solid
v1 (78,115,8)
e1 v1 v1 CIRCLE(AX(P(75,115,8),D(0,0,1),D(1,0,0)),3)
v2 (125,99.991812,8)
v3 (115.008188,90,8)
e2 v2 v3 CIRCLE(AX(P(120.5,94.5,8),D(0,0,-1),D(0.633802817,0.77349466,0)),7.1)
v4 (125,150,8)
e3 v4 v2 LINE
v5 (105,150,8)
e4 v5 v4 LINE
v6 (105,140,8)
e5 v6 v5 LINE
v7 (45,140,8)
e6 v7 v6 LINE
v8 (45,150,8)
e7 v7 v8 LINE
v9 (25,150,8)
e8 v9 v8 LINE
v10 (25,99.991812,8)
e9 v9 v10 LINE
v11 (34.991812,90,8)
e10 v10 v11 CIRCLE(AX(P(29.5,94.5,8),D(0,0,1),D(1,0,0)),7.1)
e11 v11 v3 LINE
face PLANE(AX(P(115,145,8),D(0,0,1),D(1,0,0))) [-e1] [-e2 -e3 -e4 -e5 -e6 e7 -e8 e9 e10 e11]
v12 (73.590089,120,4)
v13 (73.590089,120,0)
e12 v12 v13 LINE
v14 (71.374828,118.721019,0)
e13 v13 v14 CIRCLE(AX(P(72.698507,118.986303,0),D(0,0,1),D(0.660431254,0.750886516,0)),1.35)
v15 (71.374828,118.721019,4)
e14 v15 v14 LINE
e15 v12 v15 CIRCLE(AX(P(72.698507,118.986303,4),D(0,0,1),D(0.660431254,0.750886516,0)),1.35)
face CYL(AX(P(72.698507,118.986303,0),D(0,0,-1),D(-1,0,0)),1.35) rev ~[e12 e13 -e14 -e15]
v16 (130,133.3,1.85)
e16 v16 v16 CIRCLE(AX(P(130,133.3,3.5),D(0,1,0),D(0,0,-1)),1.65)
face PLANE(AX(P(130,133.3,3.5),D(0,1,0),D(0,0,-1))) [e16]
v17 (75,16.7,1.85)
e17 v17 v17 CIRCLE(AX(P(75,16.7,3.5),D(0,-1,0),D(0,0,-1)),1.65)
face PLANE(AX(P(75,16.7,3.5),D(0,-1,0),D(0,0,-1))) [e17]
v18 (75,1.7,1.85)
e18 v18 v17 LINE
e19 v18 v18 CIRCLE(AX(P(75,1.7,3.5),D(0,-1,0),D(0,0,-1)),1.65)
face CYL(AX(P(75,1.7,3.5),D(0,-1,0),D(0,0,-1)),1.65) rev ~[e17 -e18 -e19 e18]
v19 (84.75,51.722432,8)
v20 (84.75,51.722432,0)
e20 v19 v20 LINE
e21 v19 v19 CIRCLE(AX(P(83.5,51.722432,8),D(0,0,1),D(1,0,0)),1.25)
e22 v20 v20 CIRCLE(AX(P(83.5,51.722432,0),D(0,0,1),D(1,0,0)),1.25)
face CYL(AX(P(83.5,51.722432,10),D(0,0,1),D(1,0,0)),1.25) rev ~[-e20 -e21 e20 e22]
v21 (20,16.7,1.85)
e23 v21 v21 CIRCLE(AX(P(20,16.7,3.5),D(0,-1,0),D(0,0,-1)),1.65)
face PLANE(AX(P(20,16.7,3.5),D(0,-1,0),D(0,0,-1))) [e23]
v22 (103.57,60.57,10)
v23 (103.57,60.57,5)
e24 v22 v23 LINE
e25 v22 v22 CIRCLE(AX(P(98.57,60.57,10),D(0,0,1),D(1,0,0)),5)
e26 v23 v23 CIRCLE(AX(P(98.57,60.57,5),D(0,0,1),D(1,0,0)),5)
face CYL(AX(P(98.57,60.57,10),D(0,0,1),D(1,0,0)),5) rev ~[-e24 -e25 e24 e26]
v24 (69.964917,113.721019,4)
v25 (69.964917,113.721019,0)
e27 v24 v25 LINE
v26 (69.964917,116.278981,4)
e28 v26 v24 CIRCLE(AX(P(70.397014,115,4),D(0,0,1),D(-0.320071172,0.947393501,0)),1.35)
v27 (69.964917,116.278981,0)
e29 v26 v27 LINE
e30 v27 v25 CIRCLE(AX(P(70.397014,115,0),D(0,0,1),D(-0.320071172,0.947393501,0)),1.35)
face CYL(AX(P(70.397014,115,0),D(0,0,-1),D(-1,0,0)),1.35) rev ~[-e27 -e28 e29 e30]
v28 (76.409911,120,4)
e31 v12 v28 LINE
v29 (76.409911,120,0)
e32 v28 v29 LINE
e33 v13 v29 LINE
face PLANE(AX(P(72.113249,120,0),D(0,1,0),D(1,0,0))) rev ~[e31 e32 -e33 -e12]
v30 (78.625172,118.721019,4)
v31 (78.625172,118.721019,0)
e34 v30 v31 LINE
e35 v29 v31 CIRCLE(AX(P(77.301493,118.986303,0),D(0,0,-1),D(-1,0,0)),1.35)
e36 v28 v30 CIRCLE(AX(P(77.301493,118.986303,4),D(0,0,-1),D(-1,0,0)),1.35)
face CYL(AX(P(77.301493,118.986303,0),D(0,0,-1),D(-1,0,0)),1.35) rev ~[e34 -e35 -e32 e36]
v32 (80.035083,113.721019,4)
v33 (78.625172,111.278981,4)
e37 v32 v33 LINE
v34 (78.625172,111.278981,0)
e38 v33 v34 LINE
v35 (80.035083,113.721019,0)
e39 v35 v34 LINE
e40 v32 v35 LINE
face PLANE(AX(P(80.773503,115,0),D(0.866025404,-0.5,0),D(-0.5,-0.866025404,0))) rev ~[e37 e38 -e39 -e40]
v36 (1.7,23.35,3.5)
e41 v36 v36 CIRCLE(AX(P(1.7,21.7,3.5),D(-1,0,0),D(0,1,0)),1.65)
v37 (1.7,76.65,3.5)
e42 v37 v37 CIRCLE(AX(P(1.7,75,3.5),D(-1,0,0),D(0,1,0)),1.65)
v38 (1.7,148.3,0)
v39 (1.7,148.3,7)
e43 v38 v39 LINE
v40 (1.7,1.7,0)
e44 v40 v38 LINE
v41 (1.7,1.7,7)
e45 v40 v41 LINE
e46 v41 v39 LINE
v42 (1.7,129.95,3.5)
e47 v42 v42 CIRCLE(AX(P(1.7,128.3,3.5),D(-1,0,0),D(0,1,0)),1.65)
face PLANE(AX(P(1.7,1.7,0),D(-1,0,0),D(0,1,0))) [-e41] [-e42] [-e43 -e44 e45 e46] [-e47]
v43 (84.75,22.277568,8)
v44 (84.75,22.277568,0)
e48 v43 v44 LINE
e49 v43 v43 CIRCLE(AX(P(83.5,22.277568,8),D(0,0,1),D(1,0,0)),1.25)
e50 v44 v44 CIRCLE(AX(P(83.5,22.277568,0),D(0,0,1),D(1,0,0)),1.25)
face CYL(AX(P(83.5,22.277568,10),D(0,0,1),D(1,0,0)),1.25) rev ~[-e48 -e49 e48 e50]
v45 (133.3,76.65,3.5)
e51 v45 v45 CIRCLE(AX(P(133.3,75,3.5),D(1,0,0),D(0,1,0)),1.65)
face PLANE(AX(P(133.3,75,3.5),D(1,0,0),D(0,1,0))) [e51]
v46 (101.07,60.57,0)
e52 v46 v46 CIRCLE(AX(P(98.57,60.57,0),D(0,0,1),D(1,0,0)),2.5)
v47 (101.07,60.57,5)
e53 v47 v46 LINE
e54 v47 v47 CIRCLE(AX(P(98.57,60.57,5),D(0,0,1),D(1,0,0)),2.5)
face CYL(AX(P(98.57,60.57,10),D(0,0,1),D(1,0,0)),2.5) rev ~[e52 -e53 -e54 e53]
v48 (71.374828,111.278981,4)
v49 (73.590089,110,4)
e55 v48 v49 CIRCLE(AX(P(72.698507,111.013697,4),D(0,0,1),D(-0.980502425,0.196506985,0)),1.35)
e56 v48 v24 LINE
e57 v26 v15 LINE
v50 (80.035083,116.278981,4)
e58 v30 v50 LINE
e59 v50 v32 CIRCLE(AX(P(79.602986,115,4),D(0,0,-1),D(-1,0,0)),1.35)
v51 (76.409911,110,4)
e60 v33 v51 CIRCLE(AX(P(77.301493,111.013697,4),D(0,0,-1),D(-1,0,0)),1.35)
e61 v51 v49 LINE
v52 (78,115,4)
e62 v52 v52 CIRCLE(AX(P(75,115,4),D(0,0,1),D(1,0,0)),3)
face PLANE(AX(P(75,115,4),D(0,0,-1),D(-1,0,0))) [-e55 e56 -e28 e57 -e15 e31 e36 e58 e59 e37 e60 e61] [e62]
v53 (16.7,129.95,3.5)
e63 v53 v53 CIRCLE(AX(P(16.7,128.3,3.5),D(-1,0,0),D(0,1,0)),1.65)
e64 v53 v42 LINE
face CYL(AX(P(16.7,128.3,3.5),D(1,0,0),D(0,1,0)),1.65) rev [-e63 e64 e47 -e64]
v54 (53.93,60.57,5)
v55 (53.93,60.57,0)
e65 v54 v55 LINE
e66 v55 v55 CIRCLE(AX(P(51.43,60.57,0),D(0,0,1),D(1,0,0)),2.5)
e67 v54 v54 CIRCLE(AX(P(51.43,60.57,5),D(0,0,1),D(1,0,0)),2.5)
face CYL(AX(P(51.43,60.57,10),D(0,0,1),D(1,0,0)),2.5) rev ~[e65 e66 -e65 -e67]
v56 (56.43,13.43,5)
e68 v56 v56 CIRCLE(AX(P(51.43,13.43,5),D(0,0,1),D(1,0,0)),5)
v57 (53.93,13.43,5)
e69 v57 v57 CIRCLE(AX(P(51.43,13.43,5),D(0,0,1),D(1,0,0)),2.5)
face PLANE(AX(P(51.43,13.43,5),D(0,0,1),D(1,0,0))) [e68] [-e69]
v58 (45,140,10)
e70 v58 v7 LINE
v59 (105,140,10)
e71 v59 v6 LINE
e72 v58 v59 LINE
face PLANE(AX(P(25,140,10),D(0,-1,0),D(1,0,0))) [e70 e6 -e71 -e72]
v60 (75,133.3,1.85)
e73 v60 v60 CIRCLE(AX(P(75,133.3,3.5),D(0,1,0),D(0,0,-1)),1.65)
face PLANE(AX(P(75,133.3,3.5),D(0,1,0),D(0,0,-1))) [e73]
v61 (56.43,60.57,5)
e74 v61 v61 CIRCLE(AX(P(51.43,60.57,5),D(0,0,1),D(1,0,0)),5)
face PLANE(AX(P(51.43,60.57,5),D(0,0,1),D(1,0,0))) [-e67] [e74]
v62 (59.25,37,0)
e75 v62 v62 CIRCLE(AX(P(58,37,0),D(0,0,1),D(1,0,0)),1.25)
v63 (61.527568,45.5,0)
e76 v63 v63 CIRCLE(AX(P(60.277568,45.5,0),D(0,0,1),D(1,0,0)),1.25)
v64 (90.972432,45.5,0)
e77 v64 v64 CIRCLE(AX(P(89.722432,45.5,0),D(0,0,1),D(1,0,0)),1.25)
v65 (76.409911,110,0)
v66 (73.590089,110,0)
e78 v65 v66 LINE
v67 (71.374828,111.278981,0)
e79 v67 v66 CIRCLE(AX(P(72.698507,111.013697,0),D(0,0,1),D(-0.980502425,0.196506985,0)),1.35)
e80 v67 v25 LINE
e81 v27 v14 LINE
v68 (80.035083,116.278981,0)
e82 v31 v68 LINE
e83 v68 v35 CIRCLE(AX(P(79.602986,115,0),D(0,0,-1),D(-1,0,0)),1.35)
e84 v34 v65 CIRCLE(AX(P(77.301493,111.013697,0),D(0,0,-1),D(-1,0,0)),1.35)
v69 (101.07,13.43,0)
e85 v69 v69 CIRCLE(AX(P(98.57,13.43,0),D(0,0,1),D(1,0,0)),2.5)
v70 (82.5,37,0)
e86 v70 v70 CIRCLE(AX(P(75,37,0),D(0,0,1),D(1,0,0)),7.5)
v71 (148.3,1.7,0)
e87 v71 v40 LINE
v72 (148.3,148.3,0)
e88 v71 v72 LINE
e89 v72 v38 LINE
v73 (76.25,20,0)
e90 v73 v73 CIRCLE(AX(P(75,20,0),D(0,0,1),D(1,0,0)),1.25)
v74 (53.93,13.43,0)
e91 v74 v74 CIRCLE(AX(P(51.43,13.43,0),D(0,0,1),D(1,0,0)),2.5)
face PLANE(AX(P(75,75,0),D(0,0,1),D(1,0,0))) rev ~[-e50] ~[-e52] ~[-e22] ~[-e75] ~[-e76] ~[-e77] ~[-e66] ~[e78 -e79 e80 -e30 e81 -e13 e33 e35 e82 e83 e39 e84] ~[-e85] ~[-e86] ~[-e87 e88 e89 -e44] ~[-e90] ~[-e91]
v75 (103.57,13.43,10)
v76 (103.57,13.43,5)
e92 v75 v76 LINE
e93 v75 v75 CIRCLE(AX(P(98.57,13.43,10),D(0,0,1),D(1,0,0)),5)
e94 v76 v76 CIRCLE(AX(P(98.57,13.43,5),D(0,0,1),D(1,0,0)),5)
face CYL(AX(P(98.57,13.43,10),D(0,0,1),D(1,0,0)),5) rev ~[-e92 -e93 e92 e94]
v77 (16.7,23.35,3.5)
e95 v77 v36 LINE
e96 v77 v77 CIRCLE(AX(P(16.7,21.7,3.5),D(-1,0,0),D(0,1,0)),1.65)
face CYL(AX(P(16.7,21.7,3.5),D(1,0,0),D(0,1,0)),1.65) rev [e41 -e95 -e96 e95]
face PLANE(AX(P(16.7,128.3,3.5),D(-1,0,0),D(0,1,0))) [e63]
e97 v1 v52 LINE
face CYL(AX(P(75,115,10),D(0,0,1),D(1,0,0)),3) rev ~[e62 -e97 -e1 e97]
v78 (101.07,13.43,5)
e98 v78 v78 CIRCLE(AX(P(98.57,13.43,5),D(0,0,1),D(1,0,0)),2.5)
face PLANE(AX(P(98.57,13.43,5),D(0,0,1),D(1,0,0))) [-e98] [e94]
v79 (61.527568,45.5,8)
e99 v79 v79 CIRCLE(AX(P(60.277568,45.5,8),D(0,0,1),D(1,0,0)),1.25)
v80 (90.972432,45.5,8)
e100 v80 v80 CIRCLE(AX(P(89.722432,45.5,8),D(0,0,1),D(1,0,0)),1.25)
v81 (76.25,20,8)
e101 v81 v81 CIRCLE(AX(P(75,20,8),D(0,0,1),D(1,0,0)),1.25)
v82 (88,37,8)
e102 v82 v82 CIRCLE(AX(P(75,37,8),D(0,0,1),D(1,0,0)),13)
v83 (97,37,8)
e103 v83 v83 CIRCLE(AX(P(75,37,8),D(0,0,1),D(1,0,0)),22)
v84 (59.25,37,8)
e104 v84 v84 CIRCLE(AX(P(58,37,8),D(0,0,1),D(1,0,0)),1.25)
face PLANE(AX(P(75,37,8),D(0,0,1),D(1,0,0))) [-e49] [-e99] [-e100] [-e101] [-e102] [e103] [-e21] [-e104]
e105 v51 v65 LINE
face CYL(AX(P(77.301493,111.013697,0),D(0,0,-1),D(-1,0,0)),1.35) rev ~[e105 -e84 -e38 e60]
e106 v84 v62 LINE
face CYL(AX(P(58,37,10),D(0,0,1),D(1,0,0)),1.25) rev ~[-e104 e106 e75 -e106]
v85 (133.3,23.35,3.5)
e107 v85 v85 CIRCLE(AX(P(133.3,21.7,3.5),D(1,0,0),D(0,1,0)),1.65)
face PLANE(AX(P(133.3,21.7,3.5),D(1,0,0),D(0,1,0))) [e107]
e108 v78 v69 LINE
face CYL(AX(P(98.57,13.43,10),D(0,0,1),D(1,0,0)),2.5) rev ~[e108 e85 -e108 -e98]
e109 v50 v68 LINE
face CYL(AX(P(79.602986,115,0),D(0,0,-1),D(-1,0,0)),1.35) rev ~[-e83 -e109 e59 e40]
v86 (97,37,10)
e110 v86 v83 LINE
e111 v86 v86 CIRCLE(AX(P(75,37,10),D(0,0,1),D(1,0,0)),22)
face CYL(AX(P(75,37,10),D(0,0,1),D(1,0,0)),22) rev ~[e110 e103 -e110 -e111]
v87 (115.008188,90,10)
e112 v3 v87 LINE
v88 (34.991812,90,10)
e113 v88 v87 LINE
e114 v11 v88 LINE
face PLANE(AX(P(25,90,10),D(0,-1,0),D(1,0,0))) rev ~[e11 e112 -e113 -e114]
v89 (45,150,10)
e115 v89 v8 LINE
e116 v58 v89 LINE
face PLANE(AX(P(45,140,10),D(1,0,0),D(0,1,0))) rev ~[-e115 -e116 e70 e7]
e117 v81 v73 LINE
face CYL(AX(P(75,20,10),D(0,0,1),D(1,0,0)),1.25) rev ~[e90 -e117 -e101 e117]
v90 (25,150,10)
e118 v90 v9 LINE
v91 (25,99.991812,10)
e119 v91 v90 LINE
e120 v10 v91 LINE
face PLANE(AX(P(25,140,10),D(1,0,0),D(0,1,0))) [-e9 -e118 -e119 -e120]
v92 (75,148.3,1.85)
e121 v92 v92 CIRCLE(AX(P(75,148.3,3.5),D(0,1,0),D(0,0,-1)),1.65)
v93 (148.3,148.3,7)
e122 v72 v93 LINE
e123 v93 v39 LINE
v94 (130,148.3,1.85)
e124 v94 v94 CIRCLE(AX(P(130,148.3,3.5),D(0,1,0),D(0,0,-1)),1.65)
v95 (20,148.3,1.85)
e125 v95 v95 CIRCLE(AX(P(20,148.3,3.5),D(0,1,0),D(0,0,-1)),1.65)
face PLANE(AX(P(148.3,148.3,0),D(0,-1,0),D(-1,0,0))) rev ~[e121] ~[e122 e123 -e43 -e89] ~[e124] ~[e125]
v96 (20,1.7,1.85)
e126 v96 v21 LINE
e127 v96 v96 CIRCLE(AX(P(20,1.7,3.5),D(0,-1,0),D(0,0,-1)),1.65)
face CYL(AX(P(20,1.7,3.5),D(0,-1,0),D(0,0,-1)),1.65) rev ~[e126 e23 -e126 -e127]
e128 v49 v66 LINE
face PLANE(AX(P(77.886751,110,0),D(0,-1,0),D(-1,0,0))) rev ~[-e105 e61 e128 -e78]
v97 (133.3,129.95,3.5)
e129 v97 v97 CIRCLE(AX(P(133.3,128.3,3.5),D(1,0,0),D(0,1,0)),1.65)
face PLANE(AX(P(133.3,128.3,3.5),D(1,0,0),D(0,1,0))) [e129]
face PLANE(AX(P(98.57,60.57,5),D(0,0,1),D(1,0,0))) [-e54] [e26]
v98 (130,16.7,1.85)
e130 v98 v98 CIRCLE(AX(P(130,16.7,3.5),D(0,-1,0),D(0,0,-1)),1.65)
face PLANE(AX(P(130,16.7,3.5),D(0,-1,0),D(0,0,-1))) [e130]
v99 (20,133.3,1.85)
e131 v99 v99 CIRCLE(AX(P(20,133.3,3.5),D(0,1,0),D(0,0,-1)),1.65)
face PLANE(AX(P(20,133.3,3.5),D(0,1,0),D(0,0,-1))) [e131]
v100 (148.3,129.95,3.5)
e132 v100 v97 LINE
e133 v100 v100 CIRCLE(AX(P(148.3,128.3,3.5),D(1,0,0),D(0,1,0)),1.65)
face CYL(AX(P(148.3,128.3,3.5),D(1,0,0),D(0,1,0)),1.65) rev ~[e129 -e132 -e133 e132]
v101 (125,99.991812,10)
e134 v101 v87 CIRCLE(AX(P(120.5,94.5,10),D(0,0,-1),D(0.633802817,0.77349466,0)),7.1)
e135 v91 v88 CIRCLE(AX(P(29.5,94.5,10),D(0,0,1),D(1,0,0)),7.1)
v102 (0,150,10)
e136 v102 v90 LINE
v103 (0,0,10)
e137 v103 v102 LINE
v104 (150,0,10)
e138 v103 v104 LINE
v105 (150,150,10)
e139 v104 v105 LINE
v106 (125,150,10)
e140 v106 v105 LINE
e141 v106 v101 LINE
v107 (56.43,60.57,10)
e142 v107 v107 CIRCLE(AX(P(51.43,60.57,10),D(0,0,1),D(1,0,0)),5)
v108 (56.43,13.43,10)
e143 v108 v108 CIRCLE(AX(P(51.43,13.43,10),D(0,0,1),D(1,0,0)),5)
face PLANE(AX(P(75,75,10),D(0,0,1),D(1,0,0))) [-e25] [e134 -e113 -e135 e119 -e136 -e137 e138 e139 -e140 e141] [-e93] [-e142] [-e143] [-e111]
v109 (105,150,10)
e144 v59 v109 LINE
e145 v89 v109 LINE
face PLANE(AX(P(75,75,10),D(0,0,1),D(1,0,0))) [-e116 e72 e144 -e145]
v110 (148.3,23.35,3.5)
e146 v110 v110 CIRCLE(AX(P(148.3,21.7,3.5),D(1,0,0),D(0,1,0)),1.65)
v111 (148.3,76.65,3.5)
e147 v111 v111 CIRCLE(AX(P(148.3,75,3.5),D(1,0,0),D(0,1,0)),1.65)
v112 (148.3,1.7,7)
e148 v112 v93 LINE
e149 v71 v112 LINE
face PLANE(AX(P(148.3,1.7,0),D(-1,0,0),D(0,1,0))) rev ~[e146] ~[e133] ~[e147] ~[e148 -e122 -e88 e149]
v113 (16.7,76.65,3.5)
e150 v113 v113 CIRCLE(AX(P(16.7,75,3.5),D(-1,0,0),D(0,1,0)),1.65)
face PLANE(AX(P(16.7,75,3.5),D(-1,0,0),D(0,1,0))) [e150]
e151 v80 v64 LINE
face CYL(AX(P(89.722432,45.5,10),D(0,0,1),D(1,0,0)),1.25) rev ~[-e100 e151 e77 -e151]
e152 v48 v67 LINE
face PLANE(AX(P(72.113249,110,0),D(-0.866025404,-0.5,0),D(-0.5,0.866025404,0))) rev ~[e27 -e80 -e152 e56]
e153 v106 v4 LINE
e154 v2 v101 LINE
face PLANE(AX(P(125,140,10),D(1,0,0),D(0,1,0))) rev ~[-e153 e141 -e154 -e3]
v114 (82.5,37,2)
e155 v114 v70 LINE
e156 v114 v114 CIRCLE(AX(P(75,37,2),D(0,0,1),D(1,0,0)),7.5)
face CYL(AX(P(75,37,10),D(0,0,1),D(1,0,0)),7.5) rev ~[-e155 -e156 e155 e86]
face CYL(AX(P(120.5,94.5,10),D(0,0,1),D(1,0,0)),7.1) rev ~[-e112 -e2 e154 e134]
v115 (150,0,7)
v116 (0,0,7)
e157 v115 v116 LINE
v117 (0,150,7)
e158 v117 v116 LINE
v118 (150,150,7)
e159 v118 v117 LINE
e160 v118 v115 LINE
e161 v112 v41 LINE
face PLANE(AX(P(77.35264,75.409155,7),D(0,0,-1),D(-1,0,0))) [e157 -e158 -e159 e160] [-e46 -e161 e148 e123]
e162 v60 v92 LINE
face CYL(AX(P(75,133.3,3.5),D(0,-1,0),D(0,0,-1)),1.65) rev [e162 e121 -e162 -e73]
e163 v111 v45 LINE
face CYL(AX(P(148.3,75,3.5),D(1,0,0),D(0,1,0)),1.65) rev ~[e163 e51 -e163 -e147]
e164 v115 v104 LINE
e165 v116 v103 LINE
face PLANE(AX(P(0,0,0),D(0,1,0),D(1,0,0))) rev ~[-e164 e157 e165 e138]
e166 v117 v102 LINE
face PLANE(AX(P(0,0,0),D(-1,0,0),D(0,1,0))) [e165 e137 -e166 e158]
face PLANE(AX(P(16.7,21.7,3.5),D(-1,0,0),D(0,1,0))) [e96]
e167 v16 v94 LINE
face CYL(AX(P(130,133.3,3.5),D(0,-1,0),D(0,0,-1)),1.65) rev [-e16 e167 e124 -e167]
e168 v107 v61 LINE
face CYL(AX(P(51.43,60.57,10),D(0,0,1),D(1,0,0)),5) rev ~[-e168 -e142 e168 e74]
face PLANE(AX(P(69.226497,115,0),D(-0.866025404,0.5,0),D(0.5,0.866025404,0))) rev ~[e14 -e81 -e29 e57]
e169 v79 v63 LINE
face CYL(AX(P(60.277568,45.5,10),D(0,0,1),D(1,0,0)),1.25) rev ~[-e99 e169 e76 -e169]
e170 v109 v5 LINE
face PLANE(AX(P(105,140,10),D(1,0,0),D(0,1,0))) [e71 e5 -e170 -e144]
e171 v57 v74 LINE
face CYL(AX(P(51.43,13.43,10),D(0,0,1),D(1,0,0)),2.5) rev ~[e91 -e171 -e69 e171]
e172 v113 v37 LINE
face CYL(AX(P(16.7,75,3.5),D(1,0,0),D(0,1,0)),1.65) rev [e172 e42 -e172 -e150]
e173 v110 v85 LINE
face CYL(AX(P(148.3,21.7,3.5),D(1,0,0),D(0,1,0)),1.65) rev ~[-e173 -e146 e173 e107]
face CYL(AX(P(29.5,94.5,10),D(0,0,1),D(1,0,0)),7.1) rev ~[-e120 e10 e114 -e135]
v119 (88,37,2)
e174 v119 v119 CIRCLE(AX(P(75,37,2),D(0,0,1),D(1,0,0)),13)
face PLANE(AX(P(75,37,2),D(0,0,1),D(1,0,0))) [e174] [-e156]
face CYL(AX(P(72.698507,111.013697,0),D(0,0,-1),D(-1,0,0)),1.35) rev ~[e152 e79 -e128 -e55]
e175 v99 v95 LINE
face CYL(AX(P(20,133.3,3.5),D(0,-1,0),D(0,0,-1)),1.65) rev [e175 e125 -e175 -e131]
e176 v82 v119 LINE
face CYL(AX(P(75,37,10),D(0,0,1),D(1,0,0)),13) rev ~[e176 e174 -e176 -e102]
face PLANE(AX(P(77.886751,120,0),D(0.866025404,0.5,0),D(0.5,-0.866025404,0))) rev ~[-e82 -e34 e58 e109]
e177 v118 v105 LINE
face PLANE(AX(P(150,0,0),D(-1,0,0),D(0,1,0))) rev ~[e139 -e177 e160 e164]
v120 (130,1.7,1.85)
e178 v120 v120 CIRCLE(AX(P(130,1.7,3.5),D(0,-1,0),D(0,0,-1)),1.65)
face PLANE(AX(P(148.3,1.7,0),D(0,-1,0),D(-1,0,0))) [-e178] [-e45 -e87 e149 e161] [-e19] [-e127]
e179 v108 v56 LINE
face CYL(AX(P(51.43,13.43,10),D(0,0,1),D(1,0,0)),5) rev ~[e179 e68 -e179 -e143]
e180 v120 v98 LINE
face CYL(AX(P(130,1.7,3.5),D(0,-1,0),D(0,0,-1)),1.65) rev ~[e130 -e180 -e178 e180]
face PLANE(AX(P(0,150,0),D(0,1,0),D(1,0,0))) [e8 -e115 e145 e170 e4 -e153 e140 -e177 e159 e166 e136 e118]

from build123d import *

# Parameters (mm, degrees)
SKETCH_1_W           = 150
SKETCH_1_H           = 150
EXTRUDE_1_DEPTH      = 10
SKETCH_2_R           = 13
CUT_EXTRUDE_1_DEPTH  = 8
SKETCH_3_R           = 7.5
CUT_EXTRUDE_3_DEPTH  = 213.367605816
SKETCH_4_R           = 22
CUT_EXTRUDE_4_DEPTH  = 2
SKETCH_5_R           = 2.5
CUT_EXTRUDE_5_DEPTH  = 213.367605816
SKETCH_6_W           = 163.457358394
SKETCH_6_H           = 157.320035801
SKETCH_6_W_2         = 146.6
SKETCH_6_H_2         = 146.6
CUT_EXTRUDE_6_DEPTH  = 7
SKETCH_7_R           = 1.65
CUT_EXTRUDE_7_DEPTH  = 15
CUT_EXTRUDE_START    = -15
SKETCH_8_R           = 1.65
CUT_EXTRUDE_8_DEPTH  = 15
SKETCH_9_R           = 1.65
CUT_EXTRUDE_9_DEPTH  = 15
SKETCH_10_R          = 1.65
CUT_EXTRUDE_10_DEPTH = 15
SKETCH_12_R          = 1.25
CUT_EXTRUDE_11_DEPTH = 213.367605816
SKETCH_14_R          = 5
CUT_EXTRUDE_12_DEPTH = 5
SKETCH_15_W          = 100
SKETCH_15_H          = 50
CUT_EXTRUDE_13_DEPTH = 2
SKETCH_16_R          = 7.1
CUT_EXTRUDE_14_DEPTH = 2
SKETCH_17_R          = 3
CUT_EXTRUDE_15_DEPTH = 213.367605816
SKETCH_18_W          = 20
SKETCH_18_H          = 10
CUT_EXTRUDE_16_DEPTH = 2
CUT_EXTRUDE_17_DEPTH = 4
SKETCH_20_R          = 1.35
CUT_EXTRUDE_18_DEPTH = 4


with BuildPart() as part:
    # Эскиз1 → Бобышка-Вытянуть1 (new body)
    with BuildSketch(Plane.XY):
        with Locations((75, 75)):
            Rectangle(SKETCH_1_W, SKETCH_1_H)
    extrude(amount=EXTRUDE_1_DEPTH)

    # Эскиз2 → Вырез-Вытянуть1 (cut)
    with BuildSketch(Plane.XY.offset(10)):
        with Locations((75, 37)):
            Circle(SKETCH_2_R)
    extrude(amount=-CUT_EXTRUDE_1_DEPTH, mode=Mode.SUBTRACT)

    # Эскиз3 → Вырез-Вытянуть3 (cut, through all)
    with BuildSketch(Plane.XY.offset(10)):
        with Locations((75, 37)):
            Circle(SKETCH_3_R)
    extrude(amount=-CUT_EXTRUDE_3_DEPTH, mode=Mode.SUBTRACT)

    # Эскиз4 → Вырез-Вытянуть4 (cut)
    with BuildSketch(Plane.XY.offset(10)):
        with Locations((75, 37)):
            Circle(SKETCH_4_R)
    extrude(amount=-CUT_EXTRUDE_4_DEPTH, mode=Mode.SUBTRACT)

    # Эскиз5 → Вырез-Вытянуть5 (cut, through all)
    with BuildSketch(Plane.XY.offset(10)):
        with Locations((51.43, 13.43)):
            Circle(SKETCH_5_R)
        with Locations((98.57, 13.43)):
            Circle(SKETCH_5_R)
        with Locations((98.57, 60.57)):
            Circle(SKETCH_5_R)
        with Locations((51.43, 60.57)):
            Circle(SKETCH_5_R)
    extrude(amount=-CUT_EXTRUDE_5_DEPTH, mode=Mode.SUBTRACT)

    # Эскиз6 → Вырез-Вытянуть6 (cut)
    with BuildSketch(Plane(origin=(0, 0, 0), x_dir=(-1, 0, 0), z_dir=(0, 0, -1))):
        with Locations((-77.352640327, 75.40915484)):
            Rectangle(SKETCH_6_W, SKETCH_6_H)
        with Locations((-75, 75)):
            Rectangle(SKETCH_6_W_2, SKETCH_6_H_2, mode=Mode.SUBTRACT)
    extrude(amount=-CUT_EXTRUDE_6_DEPTH, mode=Mode.SUBTRACT)

    # Эскиз7 → Вырез-Вытянуть7 (cut)
    with BuildSketch(Plane.XZ.offset(-1.7)):
        with Locations(Location((20, 3.5, 0), (0, 0, 270))):
            Circle(SKETCH_7_R)
        with Locations(Location((75, 3.5, 0), (0, 0, 270))):
            Circle(SKETCH_7_R)
        with Locations(Location((130, 3.5, 0), (0, 0, 270))):
            Circle(SKETCH_7_R)
    extrude(amount=-CUT_EXTRUDE_7_DEPTH, mode=Mode.SUBTRACT)

    # Эскиз8 → Вырез-Вытянуть8 (cut)
    with BuildSketch(Plane(origin=(0, 148.3, 0), x_dir=(1, 0, 0), z_dir=(0, 1, 0)).offset(CUT_EXTRUDE_START)):
        with Locations(Location((20, -3.5, 0), (0, 0, 90))):
            Circle(SKETCH_8_R)
        with Locations(Location((75, -3.5, 0), (0, 0, 90))):
            Circle(SKETCH_8_R)
        with Locations(Location((130, -3.5, 0), (0, 0, 90))):
            Circle(SKETCH_8_R)
    extrude(amount=CUT_EXTRUDE_8_DEPTH, mode=Mode.SUBTRACT)

    # Эскиз9 → Вырез-Вытянуть9 (cut)
    with BuildSketch(Plane(origin=(148.3, 0, 0), x_dir=(0, 0, -1), z_dir=(1, 0, 0))):
        with Locations(Location((-3.5, 21.7, 0), (0, 0, 90))):
            Circle(SKETCH_9_R)
        with Locations(Location((-3.5, 128.3, 0), (0, 0, 90))):
            Circle(SKETCH_9_R)
        with Locations(Location((-3.5, 75, 0), (0, 0, 90))):
            Circle(SKETCH_9_R)
    extrude(amount=-CUT_EXTRUDE_9_DEPTH, mode=Mode.SUBTRACT)

    # Эскиз10 → Вырез-Вытянуть10 (cut)
    with BuildSketch(Plane.ZY.offset(-1.7).offset(CUT_EXTRUDE_START)):
        with Locations(Location((3.5, 128.3, 0), (0, 0, 90))):
            Circle(SKETCH_10_R)
        with Locations(Location((3.5, 75, 0), (0, 0, 90))):
            Circle(SKETCH_10_R)
        with Locations(Location((3.5, 21.7, 0), (0, 0, 90))):
            Circle(SKETCH_10_R)
    extrude(amount=CUT_EXTRUDE_10_DEPTH, mode=Mode.SUBTRACT)

    # Эскиз12 → Вырез-Вытянуть11 (cut, through all)
    with BuildSketch(Plane.XY.offset(10)):
        with Locations((75, 20)):
            Circle(SKETCH_12_R)
        with Locations((60.277568136, 45.5)):
            Circle(SKETCH_12_R)
        with Locations((89.722431864, 45.5)):
            Circle(SKETCH_12_R)
        with Locations((58, 37)):
            Circle(SKETCH_12_R)
        with Locations((83.5, 22.277568136)):
            Circle(SKETCH_12_R)
        with Locations((83.5, 51.722431864)):
            Circle(SKETCH_12_R)
    extrude(amount=-CUT_EXTRUDE_11_DEPTH, mode=Mode.SUBTRACT)

    # Эскиз14 → Вырез-Вытянуть12 (cut)
    with BuildSketch(Plane.XY.offset(10)):
        with Locations((51.43, 13.43)):
            Circle(SKETCH_14_R)
        with Locations((98.57, 13.43)):
            Circle(SKETCH_14_R)
        with Locations((98.57, 60.57)):
            Circle(SKETCH_14_R)
        with Locations((51.43, 60.57)):
            Circle(SKETCH_14_R)
    extrude(amount=-CUT_EXTRUDE_12_DEPTH, mode=Mode.SUBTRACT)

    # Эскиз15 → Вырез-Вытянуть13 (cut)
    with BuildSketch(Plane.XY.offset(10)):
        with Locations((75, 115)):
            Rectangle(SKETCH_15_W, SKETCH_15_H)
    extrude(amount=-CUT_EXTRUDE_13_DEPTH, mode=Mode.SUBTRACT)

    # Эскиз16 → Вырез-Вытянуть14 (cut)
    with BuildSketch(Plane.XY.offset(10)):
        with Locations((29.5, 94.5)):
            Circle(SKETCH_16_R)
        with Locations((120.5, 94.5)):
            Circle(SKETCH_16_R)
    extrude(amount=-CUT_EXTRUDE_14_DEPTH, mode=Mode.SUBTRACT)

    # Эскиз17 → Вырез-Вытянуть15 (cut, through all)
    with BuildSketch(Plane.XY.offset(10)):
        with Locations((75, 115)):
            Circle(SKETCH_17_R)
    extrude(amount=-CUT_EXTRUDE_15_DEPTH, mode=Mode.SUBTRACT)

    # Эскиз18 → Вырез-Вытянуть16 (cut)
    with BuildSketch(Plane.XY.offset(10)):
        with Locations((35, 145)):
            Rectangle(SKETCH_18_W, SKETCH_18_H)
        with Locations((115, 145)):
            Rectangle(SKETCH_18_W, SKETCH_18_H)
    extrude(amount=-CUT_EXTRUDE_16_DEPTH, mode=Mode.SUBTRACT)

    # Эскиз19 → Вырез-Вытянуть17 (cut)
    with BuildSketch(Plane(origin=(0, 0, 0), x_dir=(-1, 0, 0), z_dir=(0, 0, -1))):
        Polygon((-69.226497308, 115), (-72.113248654, 120), (-77.886751346, 120), (-80.773502692, 115), (-77.886751346, 110), (-72.113248654, 110), align=None)
    extrude(amount=-CUT_EXTRUDE_17_DEPTH, mode=Mode.SUBTRACT)

    # Эскиз20 → Вырез-Вытянуть18 (cut)
    with BuildSketch(Plane(origin=(0, 0, 0), x_dir=(-1, 0, 0), z_dir=(0, 0, -1))):
        with Locations((-70.397013545, 115)):
            Circle(SKETCH_20_R)
        with Locations((-72.698506772, 111.013696796)):
            Circle(SKETCH_20_R)
        with Locations((-77.301493228, 111.013696796)):
            Circle(SKETCH_20_R)
        with Locations((-79.602986455, 115)):
            Circle(SKETCH_20_R)
        with Locations((-77.301493228, 118.986303204)):
            Circle(SKETCH_20_R)
        with Locations((-72.698506772, 118.986303204)):
            Circle(SKETCH_20_R)
    extrude(amount=-CUT_EXTRUDE_18_DEPTH, mode=Mode.SUBTRACT)


solid = part.part
